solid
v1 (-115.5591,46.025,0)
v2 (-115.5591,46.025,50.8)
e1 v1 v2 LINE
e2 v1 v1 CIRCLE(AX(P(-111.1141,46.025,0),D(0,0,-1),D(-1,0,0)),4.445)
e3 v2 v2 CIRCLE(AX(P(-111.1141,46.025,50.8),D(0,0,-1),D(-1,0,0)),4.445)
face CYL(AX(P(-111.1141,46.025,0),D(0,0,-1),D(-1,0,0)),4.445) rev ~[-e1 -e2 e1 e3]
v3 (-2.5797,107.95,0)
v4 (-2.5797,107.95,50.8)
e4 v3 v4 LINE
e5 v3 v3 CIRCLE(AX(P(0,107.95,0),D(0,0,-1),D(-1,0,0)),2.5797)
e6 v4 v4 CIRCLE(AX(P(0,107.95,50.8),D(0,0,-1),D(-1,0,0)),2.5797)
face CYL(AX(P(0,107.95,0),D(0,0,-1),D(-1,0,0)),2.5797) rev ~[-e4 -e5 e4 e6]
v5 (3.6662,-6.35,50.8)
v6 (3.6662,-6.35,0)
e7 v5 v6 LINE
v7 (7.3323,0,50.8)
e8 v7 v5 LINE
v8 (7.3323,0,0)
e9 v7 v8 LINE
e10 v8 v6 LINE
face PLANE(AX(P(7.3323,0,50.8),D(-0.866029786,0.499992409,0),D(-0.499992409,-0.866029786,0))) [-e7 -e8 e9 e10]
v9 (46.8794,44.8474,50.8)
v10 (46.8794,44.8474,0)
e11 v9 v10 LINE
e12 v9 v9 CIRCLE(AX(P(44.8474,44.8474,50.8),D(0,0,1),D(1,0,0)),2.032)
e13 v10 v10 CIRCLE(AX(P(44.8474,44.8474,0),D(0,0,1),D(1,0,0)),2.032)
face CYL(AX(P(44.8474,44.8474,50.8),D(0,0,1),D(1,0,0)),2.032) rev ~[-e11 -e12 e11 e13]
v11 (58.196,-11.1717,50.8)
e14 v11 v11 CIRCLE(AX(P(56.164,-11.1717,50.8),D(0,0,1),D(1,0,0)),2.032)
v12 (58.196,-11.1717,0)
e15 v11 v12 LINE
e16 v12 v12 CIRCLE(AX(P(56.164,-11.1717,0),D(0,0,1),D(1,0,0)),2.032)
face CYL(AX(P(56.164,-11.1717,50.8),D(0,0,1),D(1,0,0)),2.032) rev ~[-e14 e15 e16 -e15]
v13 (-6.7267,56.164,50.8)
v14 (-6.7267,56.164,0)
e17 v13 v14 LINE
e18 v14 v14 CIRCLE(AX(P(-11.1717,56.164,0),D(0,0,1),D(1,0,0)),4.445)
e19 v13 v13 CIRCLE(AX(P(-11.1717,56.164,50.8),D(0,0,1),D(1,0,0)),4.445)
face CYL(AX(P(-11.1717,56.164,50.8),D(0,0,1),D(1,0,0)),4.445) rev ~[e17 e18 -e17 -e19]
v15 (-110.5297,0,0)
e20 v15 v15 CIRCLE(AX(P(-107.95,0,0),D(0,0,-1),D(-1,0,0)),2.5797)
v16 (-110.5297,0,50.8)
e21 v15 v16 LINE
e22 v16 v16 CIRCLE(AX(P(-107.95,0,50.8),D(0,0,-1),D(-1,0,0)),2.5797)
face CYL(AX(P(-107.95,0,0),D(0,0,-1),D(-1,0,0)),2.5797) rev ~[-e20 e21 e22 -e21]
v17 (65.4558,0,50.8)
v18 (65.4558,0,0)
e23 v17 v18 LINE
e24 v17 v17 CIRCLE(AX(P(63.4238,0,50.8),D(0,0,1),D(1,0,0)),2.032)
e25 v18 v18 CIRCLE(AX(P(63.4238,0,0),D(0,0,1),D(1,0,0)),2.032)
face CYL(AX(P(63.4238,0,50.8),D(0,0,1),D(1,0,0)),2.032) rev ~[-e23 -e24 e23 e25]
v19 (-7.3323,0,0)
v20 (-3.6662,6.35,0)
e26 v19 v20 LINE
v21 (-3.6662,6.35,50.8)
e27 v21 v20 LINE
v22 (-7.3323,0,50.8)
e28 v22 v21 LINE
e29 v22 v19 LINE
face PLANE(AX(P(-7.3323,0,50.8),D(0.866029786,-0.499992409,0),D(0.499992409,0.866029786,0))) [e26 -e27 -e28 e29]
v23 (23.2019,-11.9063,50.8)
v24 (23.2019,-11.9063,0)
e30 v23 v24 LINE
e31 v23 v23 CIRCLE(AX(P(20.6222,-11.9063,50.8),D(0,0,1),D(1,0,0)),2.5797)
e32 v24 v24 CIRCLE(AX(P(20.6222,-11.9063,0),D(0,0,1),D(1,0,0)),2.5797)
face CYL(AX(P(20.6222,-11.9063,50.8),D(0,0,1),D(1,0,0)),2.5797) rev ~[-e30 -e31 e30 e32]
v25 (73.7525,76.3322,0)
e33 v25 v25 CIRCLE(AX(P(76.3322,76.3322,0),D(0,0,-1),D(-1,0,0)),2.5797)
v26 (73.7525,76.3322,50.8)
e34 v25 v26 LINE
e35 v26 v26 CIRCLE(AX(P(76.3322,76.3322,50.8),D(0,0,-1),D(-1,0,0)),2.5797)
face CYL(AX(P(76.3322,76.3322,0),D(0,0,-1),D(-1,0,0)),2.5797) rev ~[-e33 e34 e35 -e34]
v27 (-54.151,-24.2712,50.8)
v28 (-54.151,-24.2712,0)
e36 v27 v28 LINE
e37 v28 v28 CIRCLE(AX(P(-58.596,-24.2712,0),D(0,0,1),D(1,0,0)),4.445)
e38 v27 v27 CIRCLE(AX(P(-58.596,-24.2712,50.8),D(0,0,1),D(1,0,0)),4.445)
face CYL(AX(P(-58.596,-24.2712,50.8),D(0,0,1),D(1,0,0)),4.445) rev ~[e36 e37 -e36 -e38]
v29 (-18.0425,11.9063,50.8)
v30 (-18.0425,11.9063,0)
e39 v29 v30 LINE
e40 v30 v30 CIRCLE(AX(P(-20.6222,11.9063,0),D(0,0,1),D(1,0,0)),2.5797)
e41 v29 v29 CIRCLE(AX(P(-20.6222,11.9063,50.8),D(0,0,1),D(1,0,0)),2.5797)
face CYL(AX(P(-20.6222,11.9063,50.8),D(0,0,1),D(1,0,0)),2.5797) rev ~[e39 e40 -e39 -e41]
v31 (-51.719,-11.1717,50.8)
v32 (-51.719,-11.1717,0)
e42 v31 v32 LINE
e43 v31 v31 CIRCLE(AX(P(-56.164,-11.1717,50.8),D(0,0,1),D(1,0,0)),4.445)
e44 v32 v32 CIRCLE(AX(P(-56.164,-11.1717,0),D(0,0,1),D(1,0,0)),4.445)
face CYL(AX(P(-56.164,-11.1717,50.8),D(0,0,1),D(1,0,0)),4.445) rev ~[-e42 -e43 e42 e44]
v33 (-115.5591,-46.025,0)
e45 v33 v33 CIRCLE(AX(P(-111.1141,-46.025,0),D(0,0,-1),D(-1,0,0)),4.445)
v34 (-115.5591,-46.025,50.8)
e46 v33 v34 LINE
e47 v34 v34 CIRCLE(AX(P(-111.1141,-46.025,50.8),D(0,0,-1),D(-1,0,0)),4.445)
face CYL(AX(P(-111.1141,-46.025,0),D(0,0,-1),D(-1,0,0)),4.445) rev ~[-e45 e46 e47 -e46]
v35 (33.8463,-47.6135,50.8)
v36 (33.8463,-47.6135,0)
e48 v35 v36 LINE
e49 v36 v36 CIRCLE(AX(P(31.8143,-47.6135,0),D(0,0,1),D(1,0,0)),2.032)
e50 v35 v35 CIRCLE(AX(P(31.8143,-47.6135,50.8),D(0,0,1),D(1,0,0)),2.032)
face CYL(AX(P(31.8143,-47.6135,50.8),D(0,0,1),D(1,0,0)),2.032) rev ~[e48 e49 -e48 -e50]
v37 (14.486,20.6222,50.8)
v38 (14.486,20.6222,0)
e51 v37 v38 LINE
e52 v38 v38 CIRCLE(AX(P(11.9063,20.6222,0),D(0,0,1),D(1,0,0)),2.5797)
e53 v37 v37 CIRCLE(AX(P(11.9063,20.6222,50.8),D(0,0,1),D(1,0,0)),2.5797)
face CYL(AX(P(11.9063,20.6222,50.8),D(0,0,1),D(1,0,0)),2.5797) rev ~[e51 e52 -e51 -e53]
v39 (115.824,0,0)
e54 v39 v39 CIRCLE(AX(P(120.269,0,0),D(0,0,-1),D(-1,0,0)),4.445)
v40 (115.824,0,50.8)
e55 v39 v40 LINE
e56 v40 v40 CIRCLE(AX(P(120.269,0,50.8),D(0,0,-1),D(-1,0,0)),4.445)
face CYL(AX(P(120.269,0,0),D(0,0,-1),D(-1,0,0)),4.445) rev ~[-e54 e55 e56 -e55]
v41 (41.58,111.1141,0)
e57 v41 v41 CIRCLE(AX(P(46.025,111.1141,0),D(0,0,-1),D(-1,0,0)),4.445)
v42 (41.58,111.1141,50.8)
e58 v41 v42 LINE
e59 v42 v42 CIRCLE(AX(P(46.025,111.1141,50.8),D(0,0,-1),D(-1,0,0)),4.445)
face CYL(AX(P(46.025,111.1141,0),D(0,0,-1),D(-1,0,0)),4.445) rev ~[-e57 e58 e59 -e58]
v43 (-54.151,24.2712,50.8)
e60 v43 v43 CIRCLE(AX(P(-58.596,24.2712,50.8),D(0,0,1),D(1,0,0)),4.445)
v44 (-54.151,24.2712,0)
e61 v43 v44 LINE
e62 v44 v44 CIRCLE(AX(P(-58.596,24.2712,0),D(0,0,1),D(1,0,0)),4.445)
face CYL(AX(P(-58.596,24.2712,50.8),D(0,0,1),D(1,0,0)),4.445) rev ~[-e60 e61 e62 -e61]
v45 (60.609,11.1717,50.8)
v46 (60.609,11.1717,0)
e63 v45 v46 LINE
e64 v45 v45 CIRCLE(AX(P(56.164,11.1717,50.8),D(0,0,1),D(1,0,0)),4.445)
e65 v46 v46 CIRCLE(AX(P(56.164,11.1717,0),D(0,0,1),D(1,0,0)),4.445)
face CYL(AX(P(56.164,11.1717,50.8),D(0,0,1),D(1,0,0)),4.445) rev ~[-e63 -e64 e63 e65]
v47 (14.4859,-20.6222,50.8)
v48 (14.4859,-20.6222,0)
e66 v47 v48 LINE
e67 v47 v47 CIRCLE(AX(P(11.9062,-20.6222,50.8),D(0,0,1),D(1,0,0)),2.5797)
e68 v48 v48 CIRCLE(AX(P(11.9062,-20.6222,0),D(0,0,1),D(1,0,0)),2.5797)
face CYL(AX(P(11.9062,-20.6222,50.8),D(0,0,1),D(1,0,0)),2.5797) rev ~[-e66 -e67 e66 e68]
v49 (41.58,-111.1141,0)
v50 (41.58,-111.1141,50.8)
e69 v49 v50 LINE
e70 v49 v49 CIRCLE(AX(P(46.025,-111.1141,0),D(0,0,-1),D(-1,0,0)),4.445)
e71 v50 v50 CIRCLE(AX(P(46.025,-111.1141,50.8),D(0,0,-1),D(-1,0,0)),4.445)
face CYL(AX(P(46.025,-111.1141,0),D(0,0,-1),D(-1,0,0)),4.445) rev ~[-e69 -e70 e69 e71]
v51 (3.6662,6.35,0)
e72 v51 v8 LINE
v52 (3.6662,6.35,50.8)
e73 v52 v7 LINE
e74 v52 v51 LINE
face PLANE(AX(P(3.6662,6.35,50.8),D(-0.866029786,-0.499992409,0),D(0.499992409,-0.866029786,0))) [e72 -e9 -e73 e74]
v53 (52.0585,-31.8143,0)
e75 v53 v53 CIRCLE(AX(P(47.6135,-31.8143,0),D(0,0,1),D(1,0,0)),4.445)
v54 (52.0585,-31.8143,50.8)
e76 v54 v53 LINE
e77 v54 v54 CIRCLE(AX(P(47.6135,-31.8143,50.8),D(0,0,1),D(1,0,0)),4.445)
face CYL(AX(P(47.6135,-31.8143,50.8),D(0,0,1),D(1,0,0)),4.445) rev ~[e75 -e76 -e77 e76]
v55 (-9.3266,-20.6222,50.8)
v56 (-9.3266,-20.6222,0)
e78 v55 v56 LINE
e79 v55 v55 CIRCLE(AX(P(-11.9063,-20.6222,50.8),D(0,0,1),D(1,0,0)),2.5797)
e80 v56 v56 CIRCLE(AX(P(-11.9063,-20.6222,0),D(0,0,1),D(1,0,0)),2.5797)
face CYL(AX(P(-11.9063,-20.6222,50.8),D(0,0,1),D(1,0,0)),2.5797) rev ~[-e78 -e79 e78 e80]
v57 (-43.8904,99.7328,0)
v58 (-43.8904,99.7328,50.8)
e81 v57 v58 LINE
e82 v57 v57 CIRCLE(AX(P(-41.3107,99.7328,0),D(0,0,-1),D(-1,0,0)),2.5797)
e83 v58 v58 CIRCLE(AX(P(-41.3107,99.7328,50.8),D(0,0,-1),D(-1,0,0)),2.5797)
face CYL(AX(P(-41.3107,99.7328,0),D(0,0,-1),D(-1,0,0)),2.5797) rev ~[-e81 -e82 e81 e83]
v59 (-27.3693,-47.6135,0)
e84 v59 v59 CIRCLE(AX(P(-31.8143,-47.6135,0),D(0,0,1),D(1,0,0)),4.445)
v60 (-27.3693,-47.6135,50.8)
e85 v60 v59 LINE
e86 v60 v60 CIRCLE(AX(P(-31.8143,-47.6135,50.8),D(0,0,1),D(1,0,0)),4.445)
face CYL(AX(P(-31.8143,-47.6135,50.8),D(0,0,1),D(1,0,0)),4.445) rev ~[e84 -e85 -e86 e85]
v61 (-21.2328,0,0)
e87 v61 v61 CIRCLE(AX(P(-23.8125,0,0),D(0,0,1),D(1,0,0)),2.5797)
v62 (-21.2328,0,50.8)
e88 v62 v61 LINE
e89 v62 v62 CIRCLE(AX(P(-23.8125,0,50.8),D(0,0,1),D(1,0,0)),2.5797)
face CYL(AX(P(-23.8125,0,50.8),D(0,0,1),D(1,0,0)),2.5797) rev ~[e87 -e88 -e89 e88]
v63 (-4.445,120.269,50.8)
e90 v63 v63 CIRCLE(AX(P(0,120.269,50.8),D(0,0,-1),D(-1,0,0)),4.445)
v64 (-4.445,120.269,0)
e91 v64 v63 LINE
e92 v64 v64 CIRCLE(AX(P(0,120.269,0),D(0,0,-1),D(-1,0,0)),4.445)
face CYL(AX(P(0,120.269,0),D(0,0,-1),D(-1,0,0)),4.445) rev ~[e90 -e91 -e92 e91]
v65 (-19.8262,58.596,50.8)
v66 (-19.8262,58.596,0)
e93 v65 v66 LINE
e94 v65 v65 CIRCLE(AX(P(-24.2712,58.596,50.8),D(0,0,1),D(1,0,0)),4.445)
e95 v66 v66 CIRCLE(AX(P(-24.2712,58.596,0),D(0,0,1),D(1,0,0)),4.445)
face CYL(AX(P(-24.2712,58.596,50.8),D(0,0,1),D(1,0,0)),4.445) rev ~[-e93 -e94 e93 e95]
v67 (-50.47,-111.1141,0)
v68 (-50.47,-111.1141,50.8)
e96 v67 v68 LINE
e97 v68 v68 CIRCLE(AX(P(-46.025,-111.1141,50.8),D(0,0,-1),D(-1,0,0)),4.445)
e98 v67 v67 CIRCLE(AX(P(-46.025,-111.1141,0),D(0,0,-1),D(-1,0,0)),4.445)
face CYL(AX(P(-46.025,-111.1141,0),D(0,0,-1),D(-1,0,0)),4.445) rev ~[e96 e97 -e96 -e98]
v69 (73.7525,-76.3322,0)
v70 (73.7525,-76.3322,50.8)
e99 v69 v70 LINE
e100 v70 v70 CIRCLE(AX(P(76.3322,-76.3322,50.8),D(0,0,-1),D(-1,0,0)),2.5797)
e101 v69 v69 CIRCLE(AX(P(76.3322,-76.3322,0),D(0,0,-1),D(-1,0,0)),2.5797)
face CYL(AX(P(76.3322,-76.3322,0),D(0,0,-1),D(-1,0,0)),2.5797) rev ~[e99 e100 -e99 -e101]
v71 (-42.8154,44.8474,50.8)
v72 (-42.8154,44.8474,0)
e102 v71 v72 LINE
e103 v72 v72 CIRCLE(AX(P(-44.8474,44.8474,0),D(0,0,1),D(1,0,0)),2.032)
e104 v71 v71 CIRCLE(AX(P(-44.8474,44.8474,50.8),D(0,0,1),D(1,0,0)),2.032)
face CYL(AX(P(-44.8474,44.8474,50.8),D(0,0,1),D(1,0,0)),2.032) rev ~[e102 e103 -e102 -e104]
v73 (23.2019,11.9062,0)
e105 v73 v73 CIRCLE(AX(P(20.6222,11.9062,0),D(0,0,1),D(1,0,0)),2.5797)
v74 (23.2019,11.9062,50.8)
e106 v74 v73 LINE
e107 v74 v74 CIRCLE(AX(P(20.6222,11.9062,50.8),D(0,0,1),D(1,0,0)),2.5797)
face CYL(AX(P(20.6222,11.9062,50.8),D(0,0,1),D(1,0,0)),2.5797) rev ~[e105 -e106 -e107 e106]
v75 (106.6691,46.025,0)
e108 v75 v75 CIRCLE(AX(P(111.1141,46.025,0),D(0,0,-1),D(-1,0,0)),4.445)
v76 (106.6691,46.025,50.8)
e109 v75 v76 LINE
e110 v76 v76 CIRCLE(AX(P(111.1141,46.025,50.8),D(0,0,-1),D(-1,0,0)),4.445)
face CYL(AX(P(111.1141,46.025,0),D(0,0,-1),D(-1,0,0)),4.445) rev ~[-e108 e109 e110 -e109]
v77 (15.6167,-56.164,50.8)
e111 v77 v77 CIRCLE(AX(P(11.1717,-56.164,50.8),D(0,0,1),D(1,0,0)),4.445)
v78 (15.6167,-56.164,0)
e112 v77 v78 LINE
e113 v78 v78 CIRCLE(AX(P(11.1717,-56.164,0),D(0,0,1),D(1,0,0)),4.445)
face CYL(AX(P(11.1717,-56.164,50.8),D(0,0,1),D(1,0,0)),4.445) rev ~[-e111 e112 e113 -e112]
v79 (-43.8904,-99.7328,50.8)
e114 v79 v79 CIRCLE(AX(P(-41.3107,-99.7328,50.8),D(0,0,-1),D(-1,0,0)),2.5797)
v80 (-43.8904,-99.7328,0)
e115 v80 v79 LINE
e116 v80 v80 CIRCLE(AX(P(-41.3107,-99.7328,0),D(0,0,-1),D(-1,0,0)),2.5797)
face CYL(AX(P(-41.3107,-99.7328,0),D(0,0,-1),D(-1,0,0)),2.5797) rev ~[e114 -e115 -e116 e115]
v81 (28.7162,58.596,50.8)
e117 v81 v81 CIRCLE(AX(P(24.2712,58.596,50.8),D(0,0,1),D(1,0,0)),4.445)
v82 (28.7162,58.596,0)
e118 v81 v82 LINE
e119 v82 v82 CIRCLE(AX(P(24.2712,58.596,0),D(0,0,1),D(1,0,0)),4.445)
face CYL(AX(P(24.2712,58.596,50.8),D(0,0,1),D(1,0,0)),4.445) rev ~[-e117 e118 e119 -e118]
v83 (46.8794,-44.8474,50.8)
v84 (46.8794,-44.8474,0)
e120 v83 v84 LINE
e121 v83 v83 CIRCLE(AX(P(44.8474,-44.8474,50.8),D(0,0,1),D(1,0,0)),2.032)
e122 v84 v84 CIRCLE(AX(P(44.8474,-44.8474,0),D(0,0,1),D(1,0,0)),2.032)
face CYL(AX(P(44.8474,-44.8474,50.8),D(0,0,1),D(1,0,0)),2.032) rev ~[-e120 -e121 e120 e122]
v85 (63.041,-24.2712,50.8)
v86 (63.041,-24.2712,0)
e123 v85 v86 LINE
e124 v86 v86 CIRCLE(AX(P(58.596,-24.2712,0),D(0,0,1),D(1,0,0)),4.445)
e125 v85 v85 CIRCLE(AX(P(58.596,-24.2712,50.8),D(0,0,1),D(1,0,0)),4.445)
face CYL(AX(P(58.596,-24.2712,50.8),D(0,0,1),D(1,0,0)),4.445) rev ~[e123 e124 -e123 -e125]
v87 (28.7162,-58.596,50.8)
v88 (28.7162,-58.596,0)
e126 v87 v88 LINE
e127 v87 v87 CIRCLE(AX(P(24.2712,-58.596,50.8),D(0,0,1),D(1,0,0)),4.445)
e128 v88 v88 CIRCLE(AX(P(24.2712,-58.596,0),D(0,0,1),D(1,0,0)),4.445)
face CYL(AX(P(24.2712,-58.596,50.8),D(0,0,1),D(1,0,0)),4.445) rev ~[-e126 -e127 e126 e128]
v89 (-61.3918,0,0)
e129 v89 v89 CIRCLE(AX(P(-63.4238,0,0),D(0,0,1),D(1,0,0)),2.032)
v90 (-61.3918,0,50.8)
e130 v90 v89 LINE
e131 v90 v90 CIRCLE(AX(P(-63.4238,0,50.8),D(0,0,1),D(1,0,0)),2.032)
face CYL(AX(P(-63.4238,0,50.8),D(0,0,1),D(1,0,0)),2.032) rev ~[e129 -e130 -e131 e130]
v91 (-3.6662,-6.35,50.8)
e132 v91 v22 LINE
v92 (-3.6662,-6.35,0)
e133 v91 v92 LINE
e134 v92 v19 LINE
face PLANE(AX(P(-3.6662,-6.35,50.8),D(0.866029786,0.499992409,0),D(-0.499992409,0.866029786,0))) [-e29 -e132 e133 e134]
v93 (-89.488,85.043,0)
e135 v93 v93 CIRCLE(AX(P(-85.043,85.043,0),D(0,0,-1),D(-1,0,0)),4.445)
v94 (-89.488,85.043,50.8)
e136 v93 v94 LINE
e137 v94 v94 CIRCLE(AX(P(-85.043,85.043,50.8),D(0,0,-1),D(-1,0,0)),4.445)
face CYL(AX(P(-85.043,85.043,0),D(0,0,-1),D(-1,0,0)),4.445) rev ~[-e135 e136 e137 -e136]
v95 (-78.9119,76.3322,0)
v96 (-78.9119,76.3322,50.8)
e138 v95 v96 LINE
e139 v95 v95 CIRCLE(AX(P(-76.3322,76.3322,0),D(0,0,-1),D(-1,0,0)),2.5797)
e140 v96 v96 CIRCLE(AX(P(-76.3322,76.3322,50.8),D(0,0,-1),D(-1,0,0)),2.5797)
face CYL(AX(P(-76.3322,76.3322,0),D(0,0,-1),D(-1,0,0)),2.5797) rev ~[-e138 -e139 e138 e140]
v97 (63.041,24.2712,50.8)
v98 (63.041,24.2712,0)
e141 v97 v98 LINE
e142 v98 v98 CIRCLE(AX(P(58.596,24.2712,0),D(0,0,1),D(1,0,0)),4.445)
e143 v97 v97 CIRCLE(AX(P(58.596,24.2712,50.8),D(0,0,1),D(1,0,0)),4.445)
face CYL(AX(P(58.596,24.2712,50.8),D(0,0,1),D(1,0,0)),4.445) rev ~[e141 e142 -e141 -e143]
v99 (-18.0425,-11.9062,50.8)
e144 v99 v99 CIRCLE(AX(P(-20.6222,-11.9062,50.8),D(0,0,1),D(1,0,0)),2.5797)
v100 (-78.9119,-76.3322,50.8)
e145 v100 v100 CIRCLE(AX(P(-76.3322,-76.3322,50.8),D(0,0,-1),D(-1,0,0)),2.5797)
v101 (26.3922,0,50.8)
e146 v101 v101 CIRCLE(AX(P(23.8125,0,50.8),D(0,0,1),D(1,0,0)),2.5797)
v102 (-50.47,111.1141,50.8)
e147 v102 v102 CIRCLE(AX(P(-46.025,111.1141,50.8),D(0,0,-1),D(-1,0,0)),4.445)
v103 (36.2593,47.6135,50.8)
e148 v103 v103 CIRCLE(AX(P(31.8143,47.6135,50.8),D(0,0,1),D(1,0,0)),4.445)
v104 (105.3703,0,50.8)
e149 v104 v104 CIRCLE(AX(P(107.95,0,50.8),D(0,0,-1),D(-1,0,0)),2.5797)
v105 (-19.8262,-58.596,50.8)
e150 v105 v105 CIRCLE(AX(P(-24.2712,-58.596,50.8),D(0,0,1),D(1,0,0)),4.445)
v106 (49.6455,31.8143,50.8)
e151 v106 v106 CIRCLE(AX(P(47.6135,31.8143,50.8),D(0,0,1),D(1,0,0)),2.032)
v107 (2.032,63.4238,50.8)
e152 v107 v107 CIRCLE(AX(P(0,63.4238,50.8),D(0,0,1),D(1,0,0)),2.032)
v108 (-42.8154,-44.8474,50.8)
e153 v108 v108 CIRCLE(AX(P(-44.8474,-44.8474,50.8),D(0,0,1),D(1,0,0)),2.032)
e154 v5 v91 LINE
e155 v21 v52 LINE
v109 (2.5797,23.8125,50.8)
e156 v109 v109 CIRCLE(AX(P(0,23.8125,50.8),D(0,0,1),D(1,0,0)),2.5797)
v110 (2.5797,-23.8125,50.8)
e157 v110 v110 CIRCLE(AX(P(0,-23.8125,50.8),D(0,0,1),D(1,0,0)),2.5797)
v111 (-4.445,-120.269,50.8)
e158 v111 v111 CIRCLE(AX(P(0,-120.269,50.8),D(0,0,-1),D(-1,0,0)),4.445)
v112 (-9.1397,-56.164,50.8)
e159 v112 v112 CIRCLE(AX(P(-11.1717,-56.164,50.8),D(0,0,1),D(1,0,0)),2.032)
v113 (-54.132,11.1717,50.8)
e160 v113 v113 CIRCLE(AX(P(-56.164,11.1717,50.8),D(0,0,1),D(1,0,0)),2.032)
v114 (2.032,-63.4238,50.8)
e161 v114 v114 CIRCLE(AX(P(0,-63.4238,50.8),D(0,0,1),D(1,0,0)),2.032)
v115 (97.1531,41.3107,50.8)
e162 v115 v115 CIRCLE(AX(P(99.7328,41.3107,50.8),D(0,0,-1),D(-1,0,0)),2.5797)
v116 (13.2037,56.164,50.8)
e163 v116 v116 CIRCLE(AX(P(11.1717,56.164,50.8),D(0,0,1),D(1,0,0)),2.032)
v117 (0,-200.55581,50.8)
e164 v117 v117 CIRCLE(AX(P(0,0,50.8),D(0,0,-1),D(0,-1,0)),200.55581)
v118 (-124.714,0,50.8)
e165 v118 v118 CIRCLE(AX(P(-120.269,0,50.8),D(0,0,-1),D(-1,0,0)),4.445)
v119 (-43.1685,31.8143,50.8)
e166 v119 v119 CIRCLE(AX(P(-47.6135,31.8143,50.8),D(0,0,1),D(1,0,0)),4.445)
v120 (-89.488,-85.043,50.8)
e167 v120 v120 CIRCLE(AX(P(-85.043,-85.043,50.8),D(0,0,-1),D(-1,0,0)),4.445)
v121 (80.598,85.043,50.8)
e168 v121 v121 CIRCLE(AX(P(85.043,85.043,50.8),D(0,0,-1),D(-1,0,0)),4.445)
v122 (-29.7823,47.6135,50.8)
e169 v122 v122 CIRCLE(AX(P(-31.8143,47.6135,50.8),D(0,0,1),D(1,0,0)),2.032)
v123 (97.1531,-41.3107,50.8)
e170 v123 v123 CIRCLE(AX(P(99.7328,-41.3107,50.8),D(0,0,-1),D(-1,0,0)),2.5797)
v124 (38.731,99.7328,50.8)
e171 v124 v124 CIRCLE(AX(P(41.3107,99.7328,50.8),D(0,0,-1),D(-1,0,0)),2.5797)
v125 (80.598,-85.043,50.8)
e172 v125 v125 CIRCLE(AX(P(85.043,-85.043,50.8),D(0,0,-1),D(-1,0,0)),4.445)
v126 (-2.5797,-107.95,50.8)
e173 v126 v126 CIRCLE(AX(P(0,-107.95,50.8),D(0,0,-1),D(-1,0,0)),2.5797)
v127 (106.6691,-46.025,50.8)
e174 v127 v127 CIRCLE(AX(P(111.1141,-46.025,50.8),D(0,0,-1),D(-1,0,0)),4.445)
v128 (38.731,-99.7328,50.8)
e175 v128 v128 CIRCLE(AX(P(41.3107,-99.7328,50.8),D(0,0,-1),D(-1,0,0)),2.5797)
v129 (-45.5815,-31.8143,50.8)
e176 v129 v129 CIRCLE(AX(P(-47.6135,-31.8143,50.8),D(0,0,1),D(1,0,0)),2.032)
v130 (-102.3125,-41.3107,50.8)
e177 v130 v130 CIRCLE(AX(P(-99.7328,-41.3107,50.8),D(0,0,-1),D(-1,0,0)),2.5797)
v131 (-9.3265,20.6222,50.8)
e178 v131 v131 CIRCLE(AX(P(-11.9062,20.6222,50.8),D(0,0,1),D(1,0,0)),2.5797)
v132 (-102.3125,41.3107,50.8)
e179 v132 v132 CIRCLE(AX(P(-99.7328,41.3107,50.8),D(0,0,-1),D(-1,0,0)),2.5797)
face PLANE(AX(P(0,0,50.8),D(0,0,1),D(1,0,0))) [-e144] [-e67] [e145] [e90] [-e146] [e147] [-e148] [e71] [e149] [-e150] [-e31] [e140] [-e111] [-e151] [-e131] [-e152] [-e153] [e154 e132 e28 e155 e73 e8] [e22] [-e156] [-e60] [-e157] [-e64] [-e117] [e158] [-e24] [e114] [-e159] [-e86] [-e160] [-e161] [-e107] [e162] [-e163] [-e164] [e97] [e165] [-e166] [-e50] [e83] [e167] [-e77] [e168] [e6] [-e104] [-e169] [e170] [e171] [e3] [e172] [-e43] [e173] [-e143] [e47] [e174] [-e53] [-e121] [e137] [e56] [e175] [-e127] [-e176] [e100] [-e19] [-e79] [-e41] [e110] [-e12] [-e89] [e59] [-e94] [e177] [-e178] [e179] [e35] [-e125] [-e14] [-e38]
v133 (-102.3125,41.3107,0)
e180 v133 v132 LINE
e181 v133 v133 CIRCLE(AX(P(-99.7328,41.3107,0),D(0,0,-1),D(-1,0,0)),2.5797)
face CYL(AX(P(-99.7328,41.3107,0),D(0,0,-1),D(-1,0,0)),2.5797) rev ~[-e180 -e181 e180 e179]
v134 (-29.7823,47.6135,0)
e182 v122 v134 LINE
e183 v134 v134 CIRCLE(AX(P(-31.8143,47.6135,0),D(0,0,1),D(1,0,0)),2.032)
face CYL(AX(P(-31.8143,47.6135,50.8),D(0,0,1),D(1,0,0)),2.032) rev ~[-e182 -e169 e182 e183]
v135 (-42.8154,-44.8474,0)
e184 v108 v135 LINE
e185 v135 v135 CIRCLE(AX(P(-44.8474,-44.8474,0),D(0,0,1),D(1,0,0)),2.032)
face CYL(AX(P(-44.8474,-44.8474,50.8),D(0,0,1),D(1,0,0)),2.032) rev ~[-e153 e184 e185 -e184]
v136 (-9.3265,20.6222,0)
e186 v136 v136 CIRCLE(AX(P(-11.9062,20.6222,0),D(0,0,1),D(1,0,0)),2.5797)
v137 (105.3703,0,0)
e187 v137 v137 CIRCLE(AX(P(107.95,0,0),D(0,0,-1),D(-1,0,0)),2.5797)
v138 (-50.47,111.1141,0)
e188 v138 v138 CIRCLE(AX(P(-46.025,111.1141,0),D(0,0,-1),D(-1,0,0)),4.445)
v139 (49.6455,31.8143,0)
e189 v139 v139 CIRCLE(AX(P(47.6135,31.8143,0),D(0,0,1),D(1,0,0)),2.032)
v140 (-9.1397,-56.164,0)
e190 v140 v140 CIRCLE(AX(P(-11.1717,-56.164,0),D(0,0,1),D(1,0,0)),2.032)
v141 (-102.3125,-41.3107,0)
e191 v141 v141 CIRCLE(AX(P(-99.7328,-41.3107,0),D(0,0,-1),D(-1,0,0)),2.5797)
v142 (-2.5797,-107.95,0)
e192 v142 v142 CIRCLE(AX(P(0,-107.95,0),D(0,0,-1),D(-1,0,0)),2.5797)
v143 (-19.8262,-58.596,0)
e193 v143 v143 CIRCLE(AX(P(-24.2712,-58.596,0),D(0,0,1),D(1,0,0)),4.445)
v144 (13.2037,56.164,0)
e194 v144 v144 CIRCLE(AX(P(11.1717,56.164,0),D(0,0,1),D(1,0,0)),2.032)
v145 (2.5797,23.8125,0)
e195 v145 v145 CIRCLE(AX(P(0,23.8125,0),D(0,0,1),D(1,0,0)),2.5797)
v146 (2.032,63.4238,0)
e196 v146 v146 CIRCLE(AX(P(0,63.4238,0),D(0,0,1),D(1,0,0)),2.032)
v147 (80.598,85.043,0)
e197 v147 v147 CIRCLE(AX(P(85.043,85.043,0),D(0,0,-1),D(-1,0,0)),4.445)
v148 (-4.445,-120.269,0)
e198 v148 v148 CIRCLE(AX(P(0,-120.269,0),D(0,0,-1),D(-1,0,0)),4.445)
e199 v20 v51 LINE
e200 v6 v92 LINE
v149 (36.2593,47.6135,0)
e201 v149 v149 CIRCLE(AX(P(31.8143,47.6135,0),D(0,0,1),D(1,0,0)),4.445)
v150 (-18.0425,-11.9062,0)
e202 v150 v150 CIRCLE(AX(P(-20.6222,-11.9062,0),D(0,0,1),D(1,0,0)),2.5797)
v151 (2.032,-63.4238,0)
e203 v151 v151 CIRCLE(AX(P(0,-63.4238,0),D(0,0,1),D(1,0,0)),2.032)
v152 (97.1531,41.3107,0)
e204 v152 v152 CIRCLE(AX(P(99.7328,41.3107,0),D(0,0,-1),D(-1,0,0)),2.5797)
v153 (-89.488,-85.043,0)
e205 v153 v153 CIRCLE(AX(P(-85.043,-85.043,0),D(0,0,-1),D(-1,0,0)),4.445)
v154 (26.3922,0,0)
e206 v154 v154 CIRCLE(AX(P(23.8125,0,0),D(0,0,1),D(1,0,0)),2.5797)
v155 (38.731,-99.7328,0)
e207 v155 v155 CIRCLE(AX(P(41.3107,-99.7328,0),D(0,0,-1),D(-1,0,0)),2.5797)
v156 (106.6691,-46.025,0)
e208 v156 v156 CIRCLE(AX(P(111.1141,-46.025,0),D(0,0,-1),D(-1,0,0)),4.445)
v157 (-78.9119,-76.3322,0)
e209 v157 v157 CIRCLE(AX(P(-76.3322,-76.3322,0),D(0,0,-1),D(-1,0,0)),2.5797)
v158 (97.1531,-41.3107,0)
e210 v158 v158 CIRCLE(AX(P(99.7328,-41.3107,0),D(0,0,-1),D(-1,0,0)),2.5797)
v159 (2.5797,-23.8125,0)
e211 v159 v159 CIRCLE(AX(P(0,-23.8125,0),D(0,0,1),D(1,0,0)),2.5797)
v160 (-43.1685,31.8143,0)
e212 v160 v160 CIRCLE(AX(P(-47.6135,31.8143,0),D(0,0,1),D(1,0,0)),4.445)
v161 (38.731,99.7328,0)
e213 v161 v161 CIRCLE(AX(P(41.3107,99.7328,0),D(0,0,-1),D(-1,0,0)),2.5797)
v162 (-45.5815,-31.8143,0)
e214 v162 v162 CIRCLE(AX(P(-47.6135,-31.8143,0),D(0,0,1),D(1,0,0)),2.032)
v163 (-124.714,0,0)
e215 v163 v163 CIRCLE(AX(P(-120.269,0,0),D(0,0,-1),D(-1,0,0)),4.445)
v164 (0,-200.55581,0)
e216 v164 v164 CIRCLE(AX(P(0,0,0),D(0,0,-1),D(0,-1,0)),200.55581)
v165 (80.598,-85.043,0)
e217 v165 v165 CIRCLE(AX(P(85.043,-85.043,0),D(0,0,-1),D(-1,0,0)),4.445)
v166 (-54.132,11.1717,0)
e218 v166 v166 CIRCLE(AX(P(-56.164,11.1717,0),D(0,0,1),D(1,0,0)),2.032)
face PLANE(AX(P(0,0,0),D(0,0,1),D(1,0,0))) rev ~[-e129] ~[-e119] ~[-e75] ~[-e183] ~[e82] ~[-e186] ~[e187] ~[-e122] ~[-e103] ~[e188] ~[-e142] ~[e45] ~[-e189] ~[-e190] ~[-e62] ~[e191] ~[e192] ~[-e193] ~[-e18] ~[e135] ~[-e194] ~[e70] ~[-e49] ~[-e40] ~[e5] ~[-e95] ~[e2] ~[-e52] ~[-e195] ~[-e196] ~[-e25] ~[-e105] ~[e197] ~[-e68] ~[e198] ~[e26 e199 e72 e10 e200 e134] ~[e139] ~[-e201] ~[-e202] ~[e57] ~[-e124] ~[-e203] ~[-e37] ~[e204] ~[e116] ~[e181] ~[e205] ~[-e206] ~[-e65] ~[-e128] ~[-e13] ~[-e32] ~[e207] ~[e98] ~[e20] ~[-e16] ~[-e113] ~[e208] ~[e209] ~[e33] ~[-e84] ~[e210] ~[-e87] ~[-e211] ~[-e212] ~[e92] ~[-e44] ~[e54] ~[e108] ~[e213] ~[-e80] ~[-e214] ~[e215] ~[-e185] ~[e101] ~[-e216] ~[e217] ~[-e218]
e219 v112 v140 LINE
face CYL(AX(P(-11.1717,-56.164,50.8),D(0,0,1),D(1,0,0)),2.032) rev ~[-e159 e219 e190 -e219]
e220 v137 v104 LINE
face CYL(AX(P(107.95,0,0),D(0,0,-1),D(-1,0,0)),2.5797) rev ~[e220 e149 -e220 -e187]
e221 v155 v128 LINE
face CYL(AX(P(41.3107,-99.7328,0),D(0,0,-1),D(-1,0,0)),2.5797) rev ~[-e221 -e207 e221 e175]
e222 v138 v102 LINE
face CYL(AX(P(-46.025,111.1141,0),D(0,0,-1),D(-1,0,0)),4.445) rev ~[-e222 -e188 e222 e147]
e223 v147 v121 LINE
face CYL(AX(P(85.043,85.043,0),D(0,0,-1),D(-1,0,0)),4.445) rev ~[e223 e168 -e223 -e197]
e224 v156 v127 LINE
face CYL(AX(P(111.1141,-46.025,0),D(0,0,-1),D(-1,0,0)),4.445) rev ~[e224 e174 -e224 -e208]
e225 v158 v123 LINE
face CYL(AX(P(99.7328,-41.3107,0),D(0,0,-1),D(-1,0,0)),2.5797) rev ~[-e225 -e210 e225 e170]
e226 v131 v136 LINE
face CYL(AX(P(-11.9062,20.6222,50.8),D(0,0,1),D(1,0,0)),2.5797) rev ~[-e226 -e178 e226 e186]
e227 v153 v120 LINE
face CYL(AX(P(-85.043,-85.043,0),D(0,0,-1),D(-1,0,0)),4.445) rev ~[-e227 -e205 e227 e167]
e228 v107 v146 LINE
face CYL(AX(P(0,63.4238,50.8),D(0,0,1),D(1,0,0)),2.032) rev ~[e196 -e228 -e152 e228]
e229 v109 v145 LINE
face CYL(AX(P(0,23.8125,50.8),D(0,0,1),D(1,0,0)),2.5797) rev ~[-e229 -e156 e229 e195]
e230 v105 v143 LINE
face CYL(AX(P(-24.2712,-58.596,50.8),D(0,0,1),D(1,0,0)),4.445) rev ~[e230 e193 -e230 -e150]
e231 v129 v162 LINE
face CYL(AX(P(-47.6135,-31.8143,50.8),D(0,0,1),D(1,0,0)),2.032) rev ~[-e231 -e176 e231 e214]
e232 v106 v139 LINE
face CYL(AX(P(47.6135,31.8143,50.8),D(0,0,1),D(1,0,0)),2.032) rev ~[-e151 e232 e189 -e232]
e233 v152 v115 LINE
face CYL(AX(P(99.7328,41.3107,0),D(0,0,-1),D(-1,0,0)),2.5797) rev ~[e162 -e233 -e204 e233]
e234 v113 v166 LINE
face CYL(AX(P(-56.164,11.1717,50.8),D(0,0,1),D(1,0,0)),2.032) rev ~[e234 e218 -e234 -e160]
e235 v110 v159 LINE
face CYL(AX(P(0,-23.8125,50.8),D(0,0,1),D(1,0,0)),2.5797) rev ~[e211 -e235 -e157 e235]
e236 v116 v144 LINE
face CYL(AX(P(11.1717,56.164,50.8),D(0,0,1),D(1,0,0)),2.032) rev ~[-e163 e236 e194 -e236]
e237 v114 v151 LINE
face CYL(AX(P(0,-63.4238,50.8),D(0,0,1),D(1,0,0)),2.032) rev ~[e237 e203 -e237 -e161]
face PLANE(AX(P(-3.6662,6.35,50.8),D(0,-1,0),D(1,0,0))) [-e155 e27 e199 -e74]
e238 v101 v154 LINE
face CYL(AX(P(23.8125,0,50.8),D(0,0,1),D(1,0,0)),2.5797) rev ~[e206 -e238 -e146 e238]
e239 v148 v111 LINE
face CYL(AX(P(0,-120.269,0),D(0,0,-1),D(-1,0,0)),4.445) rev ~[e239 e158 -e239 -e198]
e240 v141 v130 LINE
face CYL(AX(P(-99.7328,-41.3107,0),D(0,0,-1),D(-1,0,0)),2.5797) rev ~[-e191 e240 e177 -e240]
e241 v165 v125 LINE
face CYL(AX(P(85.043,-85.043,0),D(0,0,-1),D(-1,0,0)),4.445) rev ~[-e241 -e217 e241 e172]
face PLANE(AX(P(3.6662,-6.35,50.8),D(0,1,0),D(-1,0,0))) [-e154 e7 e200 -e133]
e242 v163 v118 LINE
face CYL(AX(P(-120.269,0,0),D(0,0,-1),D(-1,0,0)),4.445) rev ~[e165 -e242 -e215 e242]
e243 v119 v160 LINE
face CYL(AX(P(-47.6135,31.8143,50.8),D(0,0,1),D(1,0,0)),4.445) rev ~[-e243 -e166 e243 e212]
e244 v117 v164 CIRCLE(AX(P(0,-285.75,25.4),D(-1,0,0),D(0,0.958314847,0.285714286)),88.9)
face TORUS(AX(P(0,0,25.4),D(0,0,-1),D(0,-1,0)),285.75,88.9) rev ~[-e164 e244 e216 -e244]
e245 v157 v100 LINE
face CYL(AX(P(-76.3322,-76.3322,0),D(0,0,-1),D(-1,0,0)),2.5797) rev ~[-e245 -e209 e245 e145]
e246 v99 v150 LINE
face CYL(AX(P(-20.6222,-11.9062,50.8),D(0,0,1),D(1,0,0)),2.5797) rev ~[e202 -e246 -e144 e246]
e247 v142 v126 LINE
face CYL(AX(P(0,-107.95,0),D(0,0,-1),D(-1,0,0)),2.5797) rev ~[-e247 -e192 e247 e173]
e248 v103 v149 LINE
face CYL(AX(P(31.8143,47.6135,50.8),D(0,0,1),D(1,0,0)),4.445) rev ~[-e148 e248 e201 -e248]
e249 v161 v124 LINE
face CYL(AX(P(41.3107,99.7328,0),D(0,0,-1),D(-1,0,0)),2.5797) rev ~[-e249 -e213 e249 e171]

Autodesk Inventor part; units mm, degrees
ref_plane "YZ Plane" through (0, 0, 0) normal (1, 0, 0) x (0, 1, 0)
ref_plane "XZ Plane" through (0, 0, 0) normal (0, 1, 0) x (-1, 0, 0)
ref_plane "XY Plane" through (0, 0, 0) normal (0, 0, 1) x (1, 0, 0)
sketch "Sketch1" plane through (0, 0, 0) normal (0, 0, 1) x (1, 0, 0)
  circle A0 centre (0, 0) radius 203.2
  dimension "d0" = 406.4
extrude "Extrusion1" add sketch "Sketch1" along normal blind 50.8
sketch "Sketch2" plane through (0, 0, 0) normal (1, 0, 0) x (0, 1, 0)
  circle A0 centre (-285.75, 25.4) radius 88.9
  line L0 (203.2, 0) -> (-203.2, 0) projected
  line L1 (0, 149.86) -> (0, -99.06) projected
  point P0 (0, 0)
  dimension "d3" = 25.4
  dimension "d4" = 177.8
  dimension "d5" = 285.75
revolve "Revolution1" cut sketch "Sketch2" angle 360 about axis through (0, 0, 0) along (0, 0, -1)
sketch "Sketch3" plane through (0, 0, 0) normal (0, 0, -1) x (-1, 0, 0)
  point P0 (0, 0)
sketch "Sketch4" plane through (0, 0, 50.8) normal (0, 0, 1) x (1, 0, 0)
  line L0 (-3.6662, 6.35) -> (3.6662, 6.35)
  line L1 (3.6662, 6.35) -> (7.3323, 0)
  line L2 (7.3323, 0) -> (3.6662, -6.35)
  line L3 (3.6662, -6.35) -> (-3.6662, -6.35)
  line L4 (-3.6662, -6.35) -> (-7.3323, 0)
  line L5 (-7.3323, 0) -> (-3.6662, 6.35)
  circle A0 centre (0, 23.8125) radius 2.5797
  circle A1 centre (-11.9062, 20.6222) radius 2.5797
  circle A2 centre (-20.6222, 11.9063) radius 2.5797
  circle A3 centre (-23.8125, 0) radius 2.5797
  circle A4 centre (-20.6222, -11.9062) radius 2.5797
  circle A5 centre (-11.9063, -20.6222) radius 2.5797
  circle A6 centre (0, -23.8125) radius 2.5797
  circle A7 centre (11.9062, -20.6222) radius 2.5797
  circle A8 centre (20.6222, -11.9063) radius 2.5797
  circle A9 centre (23.8125, 0) radius 2.5797
  circle A10 centre (20.6222, 11.9062) radius 2.5797
  circle A11 centre (11.9063, 20.6222) radius 2.5797
  point P0 (0, 0)
  point P1 (0, 0)
  dimension "d7" = 12.7
  dimension "d8" = 23.8125
  dimension "d9" = 5.1594
  dimension "d12" = 360
extrude "Extrusion2" cut sketch "Sketch4" against normal through all
sketch "Sketch6" plane through (0, 0, 0) normal (0, 0, -1) x (-1, 0, 0)
  circle A0 centre (0, 107.95) radius 2.5797
  circle A1 centre (0, 120.269) radius 4.445
  circle A2 centre (-41.3107, 99.7328) radius 2.5797
  circle A3 centre (-46.025, 111.1141) radius 4.445
  circle A4 centre (-76.3322, 76.3322) radius 2.5797
  circle A5 centre (-85.043, 85.043) radius 4.445
  circle A6 centre (-99.7328, 41.3107) radius 2.5797
  circle A7 centre (-111.1141, 46.025) radius 4.445
  circle A8 centre (-107.95, 0) radius 2.5797
  circle A9 centre (-120.269, 0) radius 4.445
  circle A10 centre (-99.7328, -41.3107) radius 2.5797
  circle A11 centre (-111.1141, -46.025) radius 4.445
  circle A12 centre (-76.3322, -76.3322) radius 2.5797
  circle A13 centre (-85.043, -85.043) radius 4.445
  circle A14 centre (-41.3107, -99.7328) radius 2.5797
  circle A15 centre (-46.025, -111.1141) radius 4.445
  circle A16 centre (0, -107.95) radius 2.5797
  circle A17 centre (0, -120.269) radius 4.445
  circle A18 centre (41.3107, -99.7328) radius 2.5797
  circle A19 centre (46.025, -111.1141) radius 4.445
  circle A20 centre (76.3322, -76.3322) radius 2.5797
  circle A21 centre (85.043, -85.043) radius 4.445
  circle A22 centre (99.7328, -41.3107) radius 2.5797
  circle A23 centre (111.1141, -46.025) radius 4.445
  circle A24 centre (107.95, 0) radius 2.5797
  circle A25 centre (120.269, 0) radius 4.445
  circle A26 centre (99.7328, 41.3107) radius 2.5797
  circle A27 centre (111.1141, 46.025) radius 4.445
  circle A28 centre (76.3322, 76.3322) radius 2.5797
  circle A29 centre (85.043, 85.043) radius 4.445
  circle A30 centre (41.3107, 99.7328) radius 2.5797
  circle A31 centre (46.025, 111.1141) radius 4.445
  point P0 (0, 0)
  dimension "d16" = 5.1594
  dimension "d17" = 107.95
  dimension "d18" = 8.89
  dimension "d19" = 120.269
  dimension "d22" = 360
extrude "Extrusion3" cut sketch "Sketch6" against normal through all
sketch "Sketch7" plane through (0, 0, 50.8) normal (0, 0, 1) x (1, 0, 0)
  circle A0 centre (0, 63.4238) radius 2.032
  circle A1 centre (-44.8474, 44.8474) radius 2.032
  circle A2 centre (-63.4238, 0) radius 2.032
  circle A3 centre (-44.8474, -44.8474) radius 2.032
  circle A4 centre (0, -63.4238) radius 2.032
  circle A5 centre (44.8474, -44.8474) radius 2.032
  circle A6 centre (63.4238, 0) radius 2.032
  circle A7 centre (44.8474, 44.8474) radius 2.032
  line L0 (0, 63.4238) -> (0, 0) construction
  circle A8 centre (11.1717, 56.164) radius 2.032
  line L1 (11.1717, 56.164) -> (0, 0) construction
  circle A9 centre (24.2712, 58.596) radius 4.445
  line L2 (24.2712, 58.596) -> (0, 0) construction
  circle A10 centre (-24.2712, 58.596) radius 4.445
  circle A11 centre (-58.596, 24.2712) radius 4.445
  circle A12 centre (-58.596, -24.2712) radius 4.445
  circle A13 centre (-24.2712, -58.596) radius 4.445
  circle A14 centre (24.2712, -58.596) radius 4.445
  circle A15 centre (58.596, -24.2712) radius 4.445
  circle A16 centre (58.596, 24.2712) radius 4.445
  circle A17 centre (-31.8143, 47.6135) radius 2.032
  circle A18 centre (-56.164, 11.1717) radius 2.032
  circle A19 centre (-47.6135, -31.8143) radius 2.032
  circle A20 centre (-11.1717, -56.164) radius 2.032
  circle A21 centre (31.8143, -47.6135) radius 2.032
  circle A22 centre (56.164, -11.1717) radius 2.032
  circle A23 centre (47.6135, 31.8143) radius 2.032
  line L3 (31.8143, 47.6135) -> (0, 0) construction
  circle A24 centre (31.8143, 47.6135) radius 4.445
  circle A25 centre (-11.1717, 56.164) radius 4.445
  circle A26 centre (-47.6135, 31.8143) radius 4.445
  circle A27 centre (-56.164, -11.1717) radius 4.445
  circle A28 centre (-31.8143, -47.6135) radius 4.445
  circle A29 centre (11.1717, -56.164) radius 4.445
  circle A30 centre (47.6135, -31.8143) radius 4.445
  circle A31 centre (56.164, 11.1717) radius 4.445
  dimension "d26" = 4.064
  dimension "d27" = 63.4238
  dimension "d30" = 360
  dimension "d32" = 4.064
  dimension "d33" = 57.2643
  dimension "d34" = 11.25
  dimension "d35" = 8.89
  dimension "d36" = 22.5
  dimension "d39" = 360
  dimension "d43" = 360
  dimension "d45" = 33.75
  dimension "d48" = 360
extrude "Extrusion4" cut sketch "Sketch7" against normal through all
properties part number "CenterIndexerWheel"
